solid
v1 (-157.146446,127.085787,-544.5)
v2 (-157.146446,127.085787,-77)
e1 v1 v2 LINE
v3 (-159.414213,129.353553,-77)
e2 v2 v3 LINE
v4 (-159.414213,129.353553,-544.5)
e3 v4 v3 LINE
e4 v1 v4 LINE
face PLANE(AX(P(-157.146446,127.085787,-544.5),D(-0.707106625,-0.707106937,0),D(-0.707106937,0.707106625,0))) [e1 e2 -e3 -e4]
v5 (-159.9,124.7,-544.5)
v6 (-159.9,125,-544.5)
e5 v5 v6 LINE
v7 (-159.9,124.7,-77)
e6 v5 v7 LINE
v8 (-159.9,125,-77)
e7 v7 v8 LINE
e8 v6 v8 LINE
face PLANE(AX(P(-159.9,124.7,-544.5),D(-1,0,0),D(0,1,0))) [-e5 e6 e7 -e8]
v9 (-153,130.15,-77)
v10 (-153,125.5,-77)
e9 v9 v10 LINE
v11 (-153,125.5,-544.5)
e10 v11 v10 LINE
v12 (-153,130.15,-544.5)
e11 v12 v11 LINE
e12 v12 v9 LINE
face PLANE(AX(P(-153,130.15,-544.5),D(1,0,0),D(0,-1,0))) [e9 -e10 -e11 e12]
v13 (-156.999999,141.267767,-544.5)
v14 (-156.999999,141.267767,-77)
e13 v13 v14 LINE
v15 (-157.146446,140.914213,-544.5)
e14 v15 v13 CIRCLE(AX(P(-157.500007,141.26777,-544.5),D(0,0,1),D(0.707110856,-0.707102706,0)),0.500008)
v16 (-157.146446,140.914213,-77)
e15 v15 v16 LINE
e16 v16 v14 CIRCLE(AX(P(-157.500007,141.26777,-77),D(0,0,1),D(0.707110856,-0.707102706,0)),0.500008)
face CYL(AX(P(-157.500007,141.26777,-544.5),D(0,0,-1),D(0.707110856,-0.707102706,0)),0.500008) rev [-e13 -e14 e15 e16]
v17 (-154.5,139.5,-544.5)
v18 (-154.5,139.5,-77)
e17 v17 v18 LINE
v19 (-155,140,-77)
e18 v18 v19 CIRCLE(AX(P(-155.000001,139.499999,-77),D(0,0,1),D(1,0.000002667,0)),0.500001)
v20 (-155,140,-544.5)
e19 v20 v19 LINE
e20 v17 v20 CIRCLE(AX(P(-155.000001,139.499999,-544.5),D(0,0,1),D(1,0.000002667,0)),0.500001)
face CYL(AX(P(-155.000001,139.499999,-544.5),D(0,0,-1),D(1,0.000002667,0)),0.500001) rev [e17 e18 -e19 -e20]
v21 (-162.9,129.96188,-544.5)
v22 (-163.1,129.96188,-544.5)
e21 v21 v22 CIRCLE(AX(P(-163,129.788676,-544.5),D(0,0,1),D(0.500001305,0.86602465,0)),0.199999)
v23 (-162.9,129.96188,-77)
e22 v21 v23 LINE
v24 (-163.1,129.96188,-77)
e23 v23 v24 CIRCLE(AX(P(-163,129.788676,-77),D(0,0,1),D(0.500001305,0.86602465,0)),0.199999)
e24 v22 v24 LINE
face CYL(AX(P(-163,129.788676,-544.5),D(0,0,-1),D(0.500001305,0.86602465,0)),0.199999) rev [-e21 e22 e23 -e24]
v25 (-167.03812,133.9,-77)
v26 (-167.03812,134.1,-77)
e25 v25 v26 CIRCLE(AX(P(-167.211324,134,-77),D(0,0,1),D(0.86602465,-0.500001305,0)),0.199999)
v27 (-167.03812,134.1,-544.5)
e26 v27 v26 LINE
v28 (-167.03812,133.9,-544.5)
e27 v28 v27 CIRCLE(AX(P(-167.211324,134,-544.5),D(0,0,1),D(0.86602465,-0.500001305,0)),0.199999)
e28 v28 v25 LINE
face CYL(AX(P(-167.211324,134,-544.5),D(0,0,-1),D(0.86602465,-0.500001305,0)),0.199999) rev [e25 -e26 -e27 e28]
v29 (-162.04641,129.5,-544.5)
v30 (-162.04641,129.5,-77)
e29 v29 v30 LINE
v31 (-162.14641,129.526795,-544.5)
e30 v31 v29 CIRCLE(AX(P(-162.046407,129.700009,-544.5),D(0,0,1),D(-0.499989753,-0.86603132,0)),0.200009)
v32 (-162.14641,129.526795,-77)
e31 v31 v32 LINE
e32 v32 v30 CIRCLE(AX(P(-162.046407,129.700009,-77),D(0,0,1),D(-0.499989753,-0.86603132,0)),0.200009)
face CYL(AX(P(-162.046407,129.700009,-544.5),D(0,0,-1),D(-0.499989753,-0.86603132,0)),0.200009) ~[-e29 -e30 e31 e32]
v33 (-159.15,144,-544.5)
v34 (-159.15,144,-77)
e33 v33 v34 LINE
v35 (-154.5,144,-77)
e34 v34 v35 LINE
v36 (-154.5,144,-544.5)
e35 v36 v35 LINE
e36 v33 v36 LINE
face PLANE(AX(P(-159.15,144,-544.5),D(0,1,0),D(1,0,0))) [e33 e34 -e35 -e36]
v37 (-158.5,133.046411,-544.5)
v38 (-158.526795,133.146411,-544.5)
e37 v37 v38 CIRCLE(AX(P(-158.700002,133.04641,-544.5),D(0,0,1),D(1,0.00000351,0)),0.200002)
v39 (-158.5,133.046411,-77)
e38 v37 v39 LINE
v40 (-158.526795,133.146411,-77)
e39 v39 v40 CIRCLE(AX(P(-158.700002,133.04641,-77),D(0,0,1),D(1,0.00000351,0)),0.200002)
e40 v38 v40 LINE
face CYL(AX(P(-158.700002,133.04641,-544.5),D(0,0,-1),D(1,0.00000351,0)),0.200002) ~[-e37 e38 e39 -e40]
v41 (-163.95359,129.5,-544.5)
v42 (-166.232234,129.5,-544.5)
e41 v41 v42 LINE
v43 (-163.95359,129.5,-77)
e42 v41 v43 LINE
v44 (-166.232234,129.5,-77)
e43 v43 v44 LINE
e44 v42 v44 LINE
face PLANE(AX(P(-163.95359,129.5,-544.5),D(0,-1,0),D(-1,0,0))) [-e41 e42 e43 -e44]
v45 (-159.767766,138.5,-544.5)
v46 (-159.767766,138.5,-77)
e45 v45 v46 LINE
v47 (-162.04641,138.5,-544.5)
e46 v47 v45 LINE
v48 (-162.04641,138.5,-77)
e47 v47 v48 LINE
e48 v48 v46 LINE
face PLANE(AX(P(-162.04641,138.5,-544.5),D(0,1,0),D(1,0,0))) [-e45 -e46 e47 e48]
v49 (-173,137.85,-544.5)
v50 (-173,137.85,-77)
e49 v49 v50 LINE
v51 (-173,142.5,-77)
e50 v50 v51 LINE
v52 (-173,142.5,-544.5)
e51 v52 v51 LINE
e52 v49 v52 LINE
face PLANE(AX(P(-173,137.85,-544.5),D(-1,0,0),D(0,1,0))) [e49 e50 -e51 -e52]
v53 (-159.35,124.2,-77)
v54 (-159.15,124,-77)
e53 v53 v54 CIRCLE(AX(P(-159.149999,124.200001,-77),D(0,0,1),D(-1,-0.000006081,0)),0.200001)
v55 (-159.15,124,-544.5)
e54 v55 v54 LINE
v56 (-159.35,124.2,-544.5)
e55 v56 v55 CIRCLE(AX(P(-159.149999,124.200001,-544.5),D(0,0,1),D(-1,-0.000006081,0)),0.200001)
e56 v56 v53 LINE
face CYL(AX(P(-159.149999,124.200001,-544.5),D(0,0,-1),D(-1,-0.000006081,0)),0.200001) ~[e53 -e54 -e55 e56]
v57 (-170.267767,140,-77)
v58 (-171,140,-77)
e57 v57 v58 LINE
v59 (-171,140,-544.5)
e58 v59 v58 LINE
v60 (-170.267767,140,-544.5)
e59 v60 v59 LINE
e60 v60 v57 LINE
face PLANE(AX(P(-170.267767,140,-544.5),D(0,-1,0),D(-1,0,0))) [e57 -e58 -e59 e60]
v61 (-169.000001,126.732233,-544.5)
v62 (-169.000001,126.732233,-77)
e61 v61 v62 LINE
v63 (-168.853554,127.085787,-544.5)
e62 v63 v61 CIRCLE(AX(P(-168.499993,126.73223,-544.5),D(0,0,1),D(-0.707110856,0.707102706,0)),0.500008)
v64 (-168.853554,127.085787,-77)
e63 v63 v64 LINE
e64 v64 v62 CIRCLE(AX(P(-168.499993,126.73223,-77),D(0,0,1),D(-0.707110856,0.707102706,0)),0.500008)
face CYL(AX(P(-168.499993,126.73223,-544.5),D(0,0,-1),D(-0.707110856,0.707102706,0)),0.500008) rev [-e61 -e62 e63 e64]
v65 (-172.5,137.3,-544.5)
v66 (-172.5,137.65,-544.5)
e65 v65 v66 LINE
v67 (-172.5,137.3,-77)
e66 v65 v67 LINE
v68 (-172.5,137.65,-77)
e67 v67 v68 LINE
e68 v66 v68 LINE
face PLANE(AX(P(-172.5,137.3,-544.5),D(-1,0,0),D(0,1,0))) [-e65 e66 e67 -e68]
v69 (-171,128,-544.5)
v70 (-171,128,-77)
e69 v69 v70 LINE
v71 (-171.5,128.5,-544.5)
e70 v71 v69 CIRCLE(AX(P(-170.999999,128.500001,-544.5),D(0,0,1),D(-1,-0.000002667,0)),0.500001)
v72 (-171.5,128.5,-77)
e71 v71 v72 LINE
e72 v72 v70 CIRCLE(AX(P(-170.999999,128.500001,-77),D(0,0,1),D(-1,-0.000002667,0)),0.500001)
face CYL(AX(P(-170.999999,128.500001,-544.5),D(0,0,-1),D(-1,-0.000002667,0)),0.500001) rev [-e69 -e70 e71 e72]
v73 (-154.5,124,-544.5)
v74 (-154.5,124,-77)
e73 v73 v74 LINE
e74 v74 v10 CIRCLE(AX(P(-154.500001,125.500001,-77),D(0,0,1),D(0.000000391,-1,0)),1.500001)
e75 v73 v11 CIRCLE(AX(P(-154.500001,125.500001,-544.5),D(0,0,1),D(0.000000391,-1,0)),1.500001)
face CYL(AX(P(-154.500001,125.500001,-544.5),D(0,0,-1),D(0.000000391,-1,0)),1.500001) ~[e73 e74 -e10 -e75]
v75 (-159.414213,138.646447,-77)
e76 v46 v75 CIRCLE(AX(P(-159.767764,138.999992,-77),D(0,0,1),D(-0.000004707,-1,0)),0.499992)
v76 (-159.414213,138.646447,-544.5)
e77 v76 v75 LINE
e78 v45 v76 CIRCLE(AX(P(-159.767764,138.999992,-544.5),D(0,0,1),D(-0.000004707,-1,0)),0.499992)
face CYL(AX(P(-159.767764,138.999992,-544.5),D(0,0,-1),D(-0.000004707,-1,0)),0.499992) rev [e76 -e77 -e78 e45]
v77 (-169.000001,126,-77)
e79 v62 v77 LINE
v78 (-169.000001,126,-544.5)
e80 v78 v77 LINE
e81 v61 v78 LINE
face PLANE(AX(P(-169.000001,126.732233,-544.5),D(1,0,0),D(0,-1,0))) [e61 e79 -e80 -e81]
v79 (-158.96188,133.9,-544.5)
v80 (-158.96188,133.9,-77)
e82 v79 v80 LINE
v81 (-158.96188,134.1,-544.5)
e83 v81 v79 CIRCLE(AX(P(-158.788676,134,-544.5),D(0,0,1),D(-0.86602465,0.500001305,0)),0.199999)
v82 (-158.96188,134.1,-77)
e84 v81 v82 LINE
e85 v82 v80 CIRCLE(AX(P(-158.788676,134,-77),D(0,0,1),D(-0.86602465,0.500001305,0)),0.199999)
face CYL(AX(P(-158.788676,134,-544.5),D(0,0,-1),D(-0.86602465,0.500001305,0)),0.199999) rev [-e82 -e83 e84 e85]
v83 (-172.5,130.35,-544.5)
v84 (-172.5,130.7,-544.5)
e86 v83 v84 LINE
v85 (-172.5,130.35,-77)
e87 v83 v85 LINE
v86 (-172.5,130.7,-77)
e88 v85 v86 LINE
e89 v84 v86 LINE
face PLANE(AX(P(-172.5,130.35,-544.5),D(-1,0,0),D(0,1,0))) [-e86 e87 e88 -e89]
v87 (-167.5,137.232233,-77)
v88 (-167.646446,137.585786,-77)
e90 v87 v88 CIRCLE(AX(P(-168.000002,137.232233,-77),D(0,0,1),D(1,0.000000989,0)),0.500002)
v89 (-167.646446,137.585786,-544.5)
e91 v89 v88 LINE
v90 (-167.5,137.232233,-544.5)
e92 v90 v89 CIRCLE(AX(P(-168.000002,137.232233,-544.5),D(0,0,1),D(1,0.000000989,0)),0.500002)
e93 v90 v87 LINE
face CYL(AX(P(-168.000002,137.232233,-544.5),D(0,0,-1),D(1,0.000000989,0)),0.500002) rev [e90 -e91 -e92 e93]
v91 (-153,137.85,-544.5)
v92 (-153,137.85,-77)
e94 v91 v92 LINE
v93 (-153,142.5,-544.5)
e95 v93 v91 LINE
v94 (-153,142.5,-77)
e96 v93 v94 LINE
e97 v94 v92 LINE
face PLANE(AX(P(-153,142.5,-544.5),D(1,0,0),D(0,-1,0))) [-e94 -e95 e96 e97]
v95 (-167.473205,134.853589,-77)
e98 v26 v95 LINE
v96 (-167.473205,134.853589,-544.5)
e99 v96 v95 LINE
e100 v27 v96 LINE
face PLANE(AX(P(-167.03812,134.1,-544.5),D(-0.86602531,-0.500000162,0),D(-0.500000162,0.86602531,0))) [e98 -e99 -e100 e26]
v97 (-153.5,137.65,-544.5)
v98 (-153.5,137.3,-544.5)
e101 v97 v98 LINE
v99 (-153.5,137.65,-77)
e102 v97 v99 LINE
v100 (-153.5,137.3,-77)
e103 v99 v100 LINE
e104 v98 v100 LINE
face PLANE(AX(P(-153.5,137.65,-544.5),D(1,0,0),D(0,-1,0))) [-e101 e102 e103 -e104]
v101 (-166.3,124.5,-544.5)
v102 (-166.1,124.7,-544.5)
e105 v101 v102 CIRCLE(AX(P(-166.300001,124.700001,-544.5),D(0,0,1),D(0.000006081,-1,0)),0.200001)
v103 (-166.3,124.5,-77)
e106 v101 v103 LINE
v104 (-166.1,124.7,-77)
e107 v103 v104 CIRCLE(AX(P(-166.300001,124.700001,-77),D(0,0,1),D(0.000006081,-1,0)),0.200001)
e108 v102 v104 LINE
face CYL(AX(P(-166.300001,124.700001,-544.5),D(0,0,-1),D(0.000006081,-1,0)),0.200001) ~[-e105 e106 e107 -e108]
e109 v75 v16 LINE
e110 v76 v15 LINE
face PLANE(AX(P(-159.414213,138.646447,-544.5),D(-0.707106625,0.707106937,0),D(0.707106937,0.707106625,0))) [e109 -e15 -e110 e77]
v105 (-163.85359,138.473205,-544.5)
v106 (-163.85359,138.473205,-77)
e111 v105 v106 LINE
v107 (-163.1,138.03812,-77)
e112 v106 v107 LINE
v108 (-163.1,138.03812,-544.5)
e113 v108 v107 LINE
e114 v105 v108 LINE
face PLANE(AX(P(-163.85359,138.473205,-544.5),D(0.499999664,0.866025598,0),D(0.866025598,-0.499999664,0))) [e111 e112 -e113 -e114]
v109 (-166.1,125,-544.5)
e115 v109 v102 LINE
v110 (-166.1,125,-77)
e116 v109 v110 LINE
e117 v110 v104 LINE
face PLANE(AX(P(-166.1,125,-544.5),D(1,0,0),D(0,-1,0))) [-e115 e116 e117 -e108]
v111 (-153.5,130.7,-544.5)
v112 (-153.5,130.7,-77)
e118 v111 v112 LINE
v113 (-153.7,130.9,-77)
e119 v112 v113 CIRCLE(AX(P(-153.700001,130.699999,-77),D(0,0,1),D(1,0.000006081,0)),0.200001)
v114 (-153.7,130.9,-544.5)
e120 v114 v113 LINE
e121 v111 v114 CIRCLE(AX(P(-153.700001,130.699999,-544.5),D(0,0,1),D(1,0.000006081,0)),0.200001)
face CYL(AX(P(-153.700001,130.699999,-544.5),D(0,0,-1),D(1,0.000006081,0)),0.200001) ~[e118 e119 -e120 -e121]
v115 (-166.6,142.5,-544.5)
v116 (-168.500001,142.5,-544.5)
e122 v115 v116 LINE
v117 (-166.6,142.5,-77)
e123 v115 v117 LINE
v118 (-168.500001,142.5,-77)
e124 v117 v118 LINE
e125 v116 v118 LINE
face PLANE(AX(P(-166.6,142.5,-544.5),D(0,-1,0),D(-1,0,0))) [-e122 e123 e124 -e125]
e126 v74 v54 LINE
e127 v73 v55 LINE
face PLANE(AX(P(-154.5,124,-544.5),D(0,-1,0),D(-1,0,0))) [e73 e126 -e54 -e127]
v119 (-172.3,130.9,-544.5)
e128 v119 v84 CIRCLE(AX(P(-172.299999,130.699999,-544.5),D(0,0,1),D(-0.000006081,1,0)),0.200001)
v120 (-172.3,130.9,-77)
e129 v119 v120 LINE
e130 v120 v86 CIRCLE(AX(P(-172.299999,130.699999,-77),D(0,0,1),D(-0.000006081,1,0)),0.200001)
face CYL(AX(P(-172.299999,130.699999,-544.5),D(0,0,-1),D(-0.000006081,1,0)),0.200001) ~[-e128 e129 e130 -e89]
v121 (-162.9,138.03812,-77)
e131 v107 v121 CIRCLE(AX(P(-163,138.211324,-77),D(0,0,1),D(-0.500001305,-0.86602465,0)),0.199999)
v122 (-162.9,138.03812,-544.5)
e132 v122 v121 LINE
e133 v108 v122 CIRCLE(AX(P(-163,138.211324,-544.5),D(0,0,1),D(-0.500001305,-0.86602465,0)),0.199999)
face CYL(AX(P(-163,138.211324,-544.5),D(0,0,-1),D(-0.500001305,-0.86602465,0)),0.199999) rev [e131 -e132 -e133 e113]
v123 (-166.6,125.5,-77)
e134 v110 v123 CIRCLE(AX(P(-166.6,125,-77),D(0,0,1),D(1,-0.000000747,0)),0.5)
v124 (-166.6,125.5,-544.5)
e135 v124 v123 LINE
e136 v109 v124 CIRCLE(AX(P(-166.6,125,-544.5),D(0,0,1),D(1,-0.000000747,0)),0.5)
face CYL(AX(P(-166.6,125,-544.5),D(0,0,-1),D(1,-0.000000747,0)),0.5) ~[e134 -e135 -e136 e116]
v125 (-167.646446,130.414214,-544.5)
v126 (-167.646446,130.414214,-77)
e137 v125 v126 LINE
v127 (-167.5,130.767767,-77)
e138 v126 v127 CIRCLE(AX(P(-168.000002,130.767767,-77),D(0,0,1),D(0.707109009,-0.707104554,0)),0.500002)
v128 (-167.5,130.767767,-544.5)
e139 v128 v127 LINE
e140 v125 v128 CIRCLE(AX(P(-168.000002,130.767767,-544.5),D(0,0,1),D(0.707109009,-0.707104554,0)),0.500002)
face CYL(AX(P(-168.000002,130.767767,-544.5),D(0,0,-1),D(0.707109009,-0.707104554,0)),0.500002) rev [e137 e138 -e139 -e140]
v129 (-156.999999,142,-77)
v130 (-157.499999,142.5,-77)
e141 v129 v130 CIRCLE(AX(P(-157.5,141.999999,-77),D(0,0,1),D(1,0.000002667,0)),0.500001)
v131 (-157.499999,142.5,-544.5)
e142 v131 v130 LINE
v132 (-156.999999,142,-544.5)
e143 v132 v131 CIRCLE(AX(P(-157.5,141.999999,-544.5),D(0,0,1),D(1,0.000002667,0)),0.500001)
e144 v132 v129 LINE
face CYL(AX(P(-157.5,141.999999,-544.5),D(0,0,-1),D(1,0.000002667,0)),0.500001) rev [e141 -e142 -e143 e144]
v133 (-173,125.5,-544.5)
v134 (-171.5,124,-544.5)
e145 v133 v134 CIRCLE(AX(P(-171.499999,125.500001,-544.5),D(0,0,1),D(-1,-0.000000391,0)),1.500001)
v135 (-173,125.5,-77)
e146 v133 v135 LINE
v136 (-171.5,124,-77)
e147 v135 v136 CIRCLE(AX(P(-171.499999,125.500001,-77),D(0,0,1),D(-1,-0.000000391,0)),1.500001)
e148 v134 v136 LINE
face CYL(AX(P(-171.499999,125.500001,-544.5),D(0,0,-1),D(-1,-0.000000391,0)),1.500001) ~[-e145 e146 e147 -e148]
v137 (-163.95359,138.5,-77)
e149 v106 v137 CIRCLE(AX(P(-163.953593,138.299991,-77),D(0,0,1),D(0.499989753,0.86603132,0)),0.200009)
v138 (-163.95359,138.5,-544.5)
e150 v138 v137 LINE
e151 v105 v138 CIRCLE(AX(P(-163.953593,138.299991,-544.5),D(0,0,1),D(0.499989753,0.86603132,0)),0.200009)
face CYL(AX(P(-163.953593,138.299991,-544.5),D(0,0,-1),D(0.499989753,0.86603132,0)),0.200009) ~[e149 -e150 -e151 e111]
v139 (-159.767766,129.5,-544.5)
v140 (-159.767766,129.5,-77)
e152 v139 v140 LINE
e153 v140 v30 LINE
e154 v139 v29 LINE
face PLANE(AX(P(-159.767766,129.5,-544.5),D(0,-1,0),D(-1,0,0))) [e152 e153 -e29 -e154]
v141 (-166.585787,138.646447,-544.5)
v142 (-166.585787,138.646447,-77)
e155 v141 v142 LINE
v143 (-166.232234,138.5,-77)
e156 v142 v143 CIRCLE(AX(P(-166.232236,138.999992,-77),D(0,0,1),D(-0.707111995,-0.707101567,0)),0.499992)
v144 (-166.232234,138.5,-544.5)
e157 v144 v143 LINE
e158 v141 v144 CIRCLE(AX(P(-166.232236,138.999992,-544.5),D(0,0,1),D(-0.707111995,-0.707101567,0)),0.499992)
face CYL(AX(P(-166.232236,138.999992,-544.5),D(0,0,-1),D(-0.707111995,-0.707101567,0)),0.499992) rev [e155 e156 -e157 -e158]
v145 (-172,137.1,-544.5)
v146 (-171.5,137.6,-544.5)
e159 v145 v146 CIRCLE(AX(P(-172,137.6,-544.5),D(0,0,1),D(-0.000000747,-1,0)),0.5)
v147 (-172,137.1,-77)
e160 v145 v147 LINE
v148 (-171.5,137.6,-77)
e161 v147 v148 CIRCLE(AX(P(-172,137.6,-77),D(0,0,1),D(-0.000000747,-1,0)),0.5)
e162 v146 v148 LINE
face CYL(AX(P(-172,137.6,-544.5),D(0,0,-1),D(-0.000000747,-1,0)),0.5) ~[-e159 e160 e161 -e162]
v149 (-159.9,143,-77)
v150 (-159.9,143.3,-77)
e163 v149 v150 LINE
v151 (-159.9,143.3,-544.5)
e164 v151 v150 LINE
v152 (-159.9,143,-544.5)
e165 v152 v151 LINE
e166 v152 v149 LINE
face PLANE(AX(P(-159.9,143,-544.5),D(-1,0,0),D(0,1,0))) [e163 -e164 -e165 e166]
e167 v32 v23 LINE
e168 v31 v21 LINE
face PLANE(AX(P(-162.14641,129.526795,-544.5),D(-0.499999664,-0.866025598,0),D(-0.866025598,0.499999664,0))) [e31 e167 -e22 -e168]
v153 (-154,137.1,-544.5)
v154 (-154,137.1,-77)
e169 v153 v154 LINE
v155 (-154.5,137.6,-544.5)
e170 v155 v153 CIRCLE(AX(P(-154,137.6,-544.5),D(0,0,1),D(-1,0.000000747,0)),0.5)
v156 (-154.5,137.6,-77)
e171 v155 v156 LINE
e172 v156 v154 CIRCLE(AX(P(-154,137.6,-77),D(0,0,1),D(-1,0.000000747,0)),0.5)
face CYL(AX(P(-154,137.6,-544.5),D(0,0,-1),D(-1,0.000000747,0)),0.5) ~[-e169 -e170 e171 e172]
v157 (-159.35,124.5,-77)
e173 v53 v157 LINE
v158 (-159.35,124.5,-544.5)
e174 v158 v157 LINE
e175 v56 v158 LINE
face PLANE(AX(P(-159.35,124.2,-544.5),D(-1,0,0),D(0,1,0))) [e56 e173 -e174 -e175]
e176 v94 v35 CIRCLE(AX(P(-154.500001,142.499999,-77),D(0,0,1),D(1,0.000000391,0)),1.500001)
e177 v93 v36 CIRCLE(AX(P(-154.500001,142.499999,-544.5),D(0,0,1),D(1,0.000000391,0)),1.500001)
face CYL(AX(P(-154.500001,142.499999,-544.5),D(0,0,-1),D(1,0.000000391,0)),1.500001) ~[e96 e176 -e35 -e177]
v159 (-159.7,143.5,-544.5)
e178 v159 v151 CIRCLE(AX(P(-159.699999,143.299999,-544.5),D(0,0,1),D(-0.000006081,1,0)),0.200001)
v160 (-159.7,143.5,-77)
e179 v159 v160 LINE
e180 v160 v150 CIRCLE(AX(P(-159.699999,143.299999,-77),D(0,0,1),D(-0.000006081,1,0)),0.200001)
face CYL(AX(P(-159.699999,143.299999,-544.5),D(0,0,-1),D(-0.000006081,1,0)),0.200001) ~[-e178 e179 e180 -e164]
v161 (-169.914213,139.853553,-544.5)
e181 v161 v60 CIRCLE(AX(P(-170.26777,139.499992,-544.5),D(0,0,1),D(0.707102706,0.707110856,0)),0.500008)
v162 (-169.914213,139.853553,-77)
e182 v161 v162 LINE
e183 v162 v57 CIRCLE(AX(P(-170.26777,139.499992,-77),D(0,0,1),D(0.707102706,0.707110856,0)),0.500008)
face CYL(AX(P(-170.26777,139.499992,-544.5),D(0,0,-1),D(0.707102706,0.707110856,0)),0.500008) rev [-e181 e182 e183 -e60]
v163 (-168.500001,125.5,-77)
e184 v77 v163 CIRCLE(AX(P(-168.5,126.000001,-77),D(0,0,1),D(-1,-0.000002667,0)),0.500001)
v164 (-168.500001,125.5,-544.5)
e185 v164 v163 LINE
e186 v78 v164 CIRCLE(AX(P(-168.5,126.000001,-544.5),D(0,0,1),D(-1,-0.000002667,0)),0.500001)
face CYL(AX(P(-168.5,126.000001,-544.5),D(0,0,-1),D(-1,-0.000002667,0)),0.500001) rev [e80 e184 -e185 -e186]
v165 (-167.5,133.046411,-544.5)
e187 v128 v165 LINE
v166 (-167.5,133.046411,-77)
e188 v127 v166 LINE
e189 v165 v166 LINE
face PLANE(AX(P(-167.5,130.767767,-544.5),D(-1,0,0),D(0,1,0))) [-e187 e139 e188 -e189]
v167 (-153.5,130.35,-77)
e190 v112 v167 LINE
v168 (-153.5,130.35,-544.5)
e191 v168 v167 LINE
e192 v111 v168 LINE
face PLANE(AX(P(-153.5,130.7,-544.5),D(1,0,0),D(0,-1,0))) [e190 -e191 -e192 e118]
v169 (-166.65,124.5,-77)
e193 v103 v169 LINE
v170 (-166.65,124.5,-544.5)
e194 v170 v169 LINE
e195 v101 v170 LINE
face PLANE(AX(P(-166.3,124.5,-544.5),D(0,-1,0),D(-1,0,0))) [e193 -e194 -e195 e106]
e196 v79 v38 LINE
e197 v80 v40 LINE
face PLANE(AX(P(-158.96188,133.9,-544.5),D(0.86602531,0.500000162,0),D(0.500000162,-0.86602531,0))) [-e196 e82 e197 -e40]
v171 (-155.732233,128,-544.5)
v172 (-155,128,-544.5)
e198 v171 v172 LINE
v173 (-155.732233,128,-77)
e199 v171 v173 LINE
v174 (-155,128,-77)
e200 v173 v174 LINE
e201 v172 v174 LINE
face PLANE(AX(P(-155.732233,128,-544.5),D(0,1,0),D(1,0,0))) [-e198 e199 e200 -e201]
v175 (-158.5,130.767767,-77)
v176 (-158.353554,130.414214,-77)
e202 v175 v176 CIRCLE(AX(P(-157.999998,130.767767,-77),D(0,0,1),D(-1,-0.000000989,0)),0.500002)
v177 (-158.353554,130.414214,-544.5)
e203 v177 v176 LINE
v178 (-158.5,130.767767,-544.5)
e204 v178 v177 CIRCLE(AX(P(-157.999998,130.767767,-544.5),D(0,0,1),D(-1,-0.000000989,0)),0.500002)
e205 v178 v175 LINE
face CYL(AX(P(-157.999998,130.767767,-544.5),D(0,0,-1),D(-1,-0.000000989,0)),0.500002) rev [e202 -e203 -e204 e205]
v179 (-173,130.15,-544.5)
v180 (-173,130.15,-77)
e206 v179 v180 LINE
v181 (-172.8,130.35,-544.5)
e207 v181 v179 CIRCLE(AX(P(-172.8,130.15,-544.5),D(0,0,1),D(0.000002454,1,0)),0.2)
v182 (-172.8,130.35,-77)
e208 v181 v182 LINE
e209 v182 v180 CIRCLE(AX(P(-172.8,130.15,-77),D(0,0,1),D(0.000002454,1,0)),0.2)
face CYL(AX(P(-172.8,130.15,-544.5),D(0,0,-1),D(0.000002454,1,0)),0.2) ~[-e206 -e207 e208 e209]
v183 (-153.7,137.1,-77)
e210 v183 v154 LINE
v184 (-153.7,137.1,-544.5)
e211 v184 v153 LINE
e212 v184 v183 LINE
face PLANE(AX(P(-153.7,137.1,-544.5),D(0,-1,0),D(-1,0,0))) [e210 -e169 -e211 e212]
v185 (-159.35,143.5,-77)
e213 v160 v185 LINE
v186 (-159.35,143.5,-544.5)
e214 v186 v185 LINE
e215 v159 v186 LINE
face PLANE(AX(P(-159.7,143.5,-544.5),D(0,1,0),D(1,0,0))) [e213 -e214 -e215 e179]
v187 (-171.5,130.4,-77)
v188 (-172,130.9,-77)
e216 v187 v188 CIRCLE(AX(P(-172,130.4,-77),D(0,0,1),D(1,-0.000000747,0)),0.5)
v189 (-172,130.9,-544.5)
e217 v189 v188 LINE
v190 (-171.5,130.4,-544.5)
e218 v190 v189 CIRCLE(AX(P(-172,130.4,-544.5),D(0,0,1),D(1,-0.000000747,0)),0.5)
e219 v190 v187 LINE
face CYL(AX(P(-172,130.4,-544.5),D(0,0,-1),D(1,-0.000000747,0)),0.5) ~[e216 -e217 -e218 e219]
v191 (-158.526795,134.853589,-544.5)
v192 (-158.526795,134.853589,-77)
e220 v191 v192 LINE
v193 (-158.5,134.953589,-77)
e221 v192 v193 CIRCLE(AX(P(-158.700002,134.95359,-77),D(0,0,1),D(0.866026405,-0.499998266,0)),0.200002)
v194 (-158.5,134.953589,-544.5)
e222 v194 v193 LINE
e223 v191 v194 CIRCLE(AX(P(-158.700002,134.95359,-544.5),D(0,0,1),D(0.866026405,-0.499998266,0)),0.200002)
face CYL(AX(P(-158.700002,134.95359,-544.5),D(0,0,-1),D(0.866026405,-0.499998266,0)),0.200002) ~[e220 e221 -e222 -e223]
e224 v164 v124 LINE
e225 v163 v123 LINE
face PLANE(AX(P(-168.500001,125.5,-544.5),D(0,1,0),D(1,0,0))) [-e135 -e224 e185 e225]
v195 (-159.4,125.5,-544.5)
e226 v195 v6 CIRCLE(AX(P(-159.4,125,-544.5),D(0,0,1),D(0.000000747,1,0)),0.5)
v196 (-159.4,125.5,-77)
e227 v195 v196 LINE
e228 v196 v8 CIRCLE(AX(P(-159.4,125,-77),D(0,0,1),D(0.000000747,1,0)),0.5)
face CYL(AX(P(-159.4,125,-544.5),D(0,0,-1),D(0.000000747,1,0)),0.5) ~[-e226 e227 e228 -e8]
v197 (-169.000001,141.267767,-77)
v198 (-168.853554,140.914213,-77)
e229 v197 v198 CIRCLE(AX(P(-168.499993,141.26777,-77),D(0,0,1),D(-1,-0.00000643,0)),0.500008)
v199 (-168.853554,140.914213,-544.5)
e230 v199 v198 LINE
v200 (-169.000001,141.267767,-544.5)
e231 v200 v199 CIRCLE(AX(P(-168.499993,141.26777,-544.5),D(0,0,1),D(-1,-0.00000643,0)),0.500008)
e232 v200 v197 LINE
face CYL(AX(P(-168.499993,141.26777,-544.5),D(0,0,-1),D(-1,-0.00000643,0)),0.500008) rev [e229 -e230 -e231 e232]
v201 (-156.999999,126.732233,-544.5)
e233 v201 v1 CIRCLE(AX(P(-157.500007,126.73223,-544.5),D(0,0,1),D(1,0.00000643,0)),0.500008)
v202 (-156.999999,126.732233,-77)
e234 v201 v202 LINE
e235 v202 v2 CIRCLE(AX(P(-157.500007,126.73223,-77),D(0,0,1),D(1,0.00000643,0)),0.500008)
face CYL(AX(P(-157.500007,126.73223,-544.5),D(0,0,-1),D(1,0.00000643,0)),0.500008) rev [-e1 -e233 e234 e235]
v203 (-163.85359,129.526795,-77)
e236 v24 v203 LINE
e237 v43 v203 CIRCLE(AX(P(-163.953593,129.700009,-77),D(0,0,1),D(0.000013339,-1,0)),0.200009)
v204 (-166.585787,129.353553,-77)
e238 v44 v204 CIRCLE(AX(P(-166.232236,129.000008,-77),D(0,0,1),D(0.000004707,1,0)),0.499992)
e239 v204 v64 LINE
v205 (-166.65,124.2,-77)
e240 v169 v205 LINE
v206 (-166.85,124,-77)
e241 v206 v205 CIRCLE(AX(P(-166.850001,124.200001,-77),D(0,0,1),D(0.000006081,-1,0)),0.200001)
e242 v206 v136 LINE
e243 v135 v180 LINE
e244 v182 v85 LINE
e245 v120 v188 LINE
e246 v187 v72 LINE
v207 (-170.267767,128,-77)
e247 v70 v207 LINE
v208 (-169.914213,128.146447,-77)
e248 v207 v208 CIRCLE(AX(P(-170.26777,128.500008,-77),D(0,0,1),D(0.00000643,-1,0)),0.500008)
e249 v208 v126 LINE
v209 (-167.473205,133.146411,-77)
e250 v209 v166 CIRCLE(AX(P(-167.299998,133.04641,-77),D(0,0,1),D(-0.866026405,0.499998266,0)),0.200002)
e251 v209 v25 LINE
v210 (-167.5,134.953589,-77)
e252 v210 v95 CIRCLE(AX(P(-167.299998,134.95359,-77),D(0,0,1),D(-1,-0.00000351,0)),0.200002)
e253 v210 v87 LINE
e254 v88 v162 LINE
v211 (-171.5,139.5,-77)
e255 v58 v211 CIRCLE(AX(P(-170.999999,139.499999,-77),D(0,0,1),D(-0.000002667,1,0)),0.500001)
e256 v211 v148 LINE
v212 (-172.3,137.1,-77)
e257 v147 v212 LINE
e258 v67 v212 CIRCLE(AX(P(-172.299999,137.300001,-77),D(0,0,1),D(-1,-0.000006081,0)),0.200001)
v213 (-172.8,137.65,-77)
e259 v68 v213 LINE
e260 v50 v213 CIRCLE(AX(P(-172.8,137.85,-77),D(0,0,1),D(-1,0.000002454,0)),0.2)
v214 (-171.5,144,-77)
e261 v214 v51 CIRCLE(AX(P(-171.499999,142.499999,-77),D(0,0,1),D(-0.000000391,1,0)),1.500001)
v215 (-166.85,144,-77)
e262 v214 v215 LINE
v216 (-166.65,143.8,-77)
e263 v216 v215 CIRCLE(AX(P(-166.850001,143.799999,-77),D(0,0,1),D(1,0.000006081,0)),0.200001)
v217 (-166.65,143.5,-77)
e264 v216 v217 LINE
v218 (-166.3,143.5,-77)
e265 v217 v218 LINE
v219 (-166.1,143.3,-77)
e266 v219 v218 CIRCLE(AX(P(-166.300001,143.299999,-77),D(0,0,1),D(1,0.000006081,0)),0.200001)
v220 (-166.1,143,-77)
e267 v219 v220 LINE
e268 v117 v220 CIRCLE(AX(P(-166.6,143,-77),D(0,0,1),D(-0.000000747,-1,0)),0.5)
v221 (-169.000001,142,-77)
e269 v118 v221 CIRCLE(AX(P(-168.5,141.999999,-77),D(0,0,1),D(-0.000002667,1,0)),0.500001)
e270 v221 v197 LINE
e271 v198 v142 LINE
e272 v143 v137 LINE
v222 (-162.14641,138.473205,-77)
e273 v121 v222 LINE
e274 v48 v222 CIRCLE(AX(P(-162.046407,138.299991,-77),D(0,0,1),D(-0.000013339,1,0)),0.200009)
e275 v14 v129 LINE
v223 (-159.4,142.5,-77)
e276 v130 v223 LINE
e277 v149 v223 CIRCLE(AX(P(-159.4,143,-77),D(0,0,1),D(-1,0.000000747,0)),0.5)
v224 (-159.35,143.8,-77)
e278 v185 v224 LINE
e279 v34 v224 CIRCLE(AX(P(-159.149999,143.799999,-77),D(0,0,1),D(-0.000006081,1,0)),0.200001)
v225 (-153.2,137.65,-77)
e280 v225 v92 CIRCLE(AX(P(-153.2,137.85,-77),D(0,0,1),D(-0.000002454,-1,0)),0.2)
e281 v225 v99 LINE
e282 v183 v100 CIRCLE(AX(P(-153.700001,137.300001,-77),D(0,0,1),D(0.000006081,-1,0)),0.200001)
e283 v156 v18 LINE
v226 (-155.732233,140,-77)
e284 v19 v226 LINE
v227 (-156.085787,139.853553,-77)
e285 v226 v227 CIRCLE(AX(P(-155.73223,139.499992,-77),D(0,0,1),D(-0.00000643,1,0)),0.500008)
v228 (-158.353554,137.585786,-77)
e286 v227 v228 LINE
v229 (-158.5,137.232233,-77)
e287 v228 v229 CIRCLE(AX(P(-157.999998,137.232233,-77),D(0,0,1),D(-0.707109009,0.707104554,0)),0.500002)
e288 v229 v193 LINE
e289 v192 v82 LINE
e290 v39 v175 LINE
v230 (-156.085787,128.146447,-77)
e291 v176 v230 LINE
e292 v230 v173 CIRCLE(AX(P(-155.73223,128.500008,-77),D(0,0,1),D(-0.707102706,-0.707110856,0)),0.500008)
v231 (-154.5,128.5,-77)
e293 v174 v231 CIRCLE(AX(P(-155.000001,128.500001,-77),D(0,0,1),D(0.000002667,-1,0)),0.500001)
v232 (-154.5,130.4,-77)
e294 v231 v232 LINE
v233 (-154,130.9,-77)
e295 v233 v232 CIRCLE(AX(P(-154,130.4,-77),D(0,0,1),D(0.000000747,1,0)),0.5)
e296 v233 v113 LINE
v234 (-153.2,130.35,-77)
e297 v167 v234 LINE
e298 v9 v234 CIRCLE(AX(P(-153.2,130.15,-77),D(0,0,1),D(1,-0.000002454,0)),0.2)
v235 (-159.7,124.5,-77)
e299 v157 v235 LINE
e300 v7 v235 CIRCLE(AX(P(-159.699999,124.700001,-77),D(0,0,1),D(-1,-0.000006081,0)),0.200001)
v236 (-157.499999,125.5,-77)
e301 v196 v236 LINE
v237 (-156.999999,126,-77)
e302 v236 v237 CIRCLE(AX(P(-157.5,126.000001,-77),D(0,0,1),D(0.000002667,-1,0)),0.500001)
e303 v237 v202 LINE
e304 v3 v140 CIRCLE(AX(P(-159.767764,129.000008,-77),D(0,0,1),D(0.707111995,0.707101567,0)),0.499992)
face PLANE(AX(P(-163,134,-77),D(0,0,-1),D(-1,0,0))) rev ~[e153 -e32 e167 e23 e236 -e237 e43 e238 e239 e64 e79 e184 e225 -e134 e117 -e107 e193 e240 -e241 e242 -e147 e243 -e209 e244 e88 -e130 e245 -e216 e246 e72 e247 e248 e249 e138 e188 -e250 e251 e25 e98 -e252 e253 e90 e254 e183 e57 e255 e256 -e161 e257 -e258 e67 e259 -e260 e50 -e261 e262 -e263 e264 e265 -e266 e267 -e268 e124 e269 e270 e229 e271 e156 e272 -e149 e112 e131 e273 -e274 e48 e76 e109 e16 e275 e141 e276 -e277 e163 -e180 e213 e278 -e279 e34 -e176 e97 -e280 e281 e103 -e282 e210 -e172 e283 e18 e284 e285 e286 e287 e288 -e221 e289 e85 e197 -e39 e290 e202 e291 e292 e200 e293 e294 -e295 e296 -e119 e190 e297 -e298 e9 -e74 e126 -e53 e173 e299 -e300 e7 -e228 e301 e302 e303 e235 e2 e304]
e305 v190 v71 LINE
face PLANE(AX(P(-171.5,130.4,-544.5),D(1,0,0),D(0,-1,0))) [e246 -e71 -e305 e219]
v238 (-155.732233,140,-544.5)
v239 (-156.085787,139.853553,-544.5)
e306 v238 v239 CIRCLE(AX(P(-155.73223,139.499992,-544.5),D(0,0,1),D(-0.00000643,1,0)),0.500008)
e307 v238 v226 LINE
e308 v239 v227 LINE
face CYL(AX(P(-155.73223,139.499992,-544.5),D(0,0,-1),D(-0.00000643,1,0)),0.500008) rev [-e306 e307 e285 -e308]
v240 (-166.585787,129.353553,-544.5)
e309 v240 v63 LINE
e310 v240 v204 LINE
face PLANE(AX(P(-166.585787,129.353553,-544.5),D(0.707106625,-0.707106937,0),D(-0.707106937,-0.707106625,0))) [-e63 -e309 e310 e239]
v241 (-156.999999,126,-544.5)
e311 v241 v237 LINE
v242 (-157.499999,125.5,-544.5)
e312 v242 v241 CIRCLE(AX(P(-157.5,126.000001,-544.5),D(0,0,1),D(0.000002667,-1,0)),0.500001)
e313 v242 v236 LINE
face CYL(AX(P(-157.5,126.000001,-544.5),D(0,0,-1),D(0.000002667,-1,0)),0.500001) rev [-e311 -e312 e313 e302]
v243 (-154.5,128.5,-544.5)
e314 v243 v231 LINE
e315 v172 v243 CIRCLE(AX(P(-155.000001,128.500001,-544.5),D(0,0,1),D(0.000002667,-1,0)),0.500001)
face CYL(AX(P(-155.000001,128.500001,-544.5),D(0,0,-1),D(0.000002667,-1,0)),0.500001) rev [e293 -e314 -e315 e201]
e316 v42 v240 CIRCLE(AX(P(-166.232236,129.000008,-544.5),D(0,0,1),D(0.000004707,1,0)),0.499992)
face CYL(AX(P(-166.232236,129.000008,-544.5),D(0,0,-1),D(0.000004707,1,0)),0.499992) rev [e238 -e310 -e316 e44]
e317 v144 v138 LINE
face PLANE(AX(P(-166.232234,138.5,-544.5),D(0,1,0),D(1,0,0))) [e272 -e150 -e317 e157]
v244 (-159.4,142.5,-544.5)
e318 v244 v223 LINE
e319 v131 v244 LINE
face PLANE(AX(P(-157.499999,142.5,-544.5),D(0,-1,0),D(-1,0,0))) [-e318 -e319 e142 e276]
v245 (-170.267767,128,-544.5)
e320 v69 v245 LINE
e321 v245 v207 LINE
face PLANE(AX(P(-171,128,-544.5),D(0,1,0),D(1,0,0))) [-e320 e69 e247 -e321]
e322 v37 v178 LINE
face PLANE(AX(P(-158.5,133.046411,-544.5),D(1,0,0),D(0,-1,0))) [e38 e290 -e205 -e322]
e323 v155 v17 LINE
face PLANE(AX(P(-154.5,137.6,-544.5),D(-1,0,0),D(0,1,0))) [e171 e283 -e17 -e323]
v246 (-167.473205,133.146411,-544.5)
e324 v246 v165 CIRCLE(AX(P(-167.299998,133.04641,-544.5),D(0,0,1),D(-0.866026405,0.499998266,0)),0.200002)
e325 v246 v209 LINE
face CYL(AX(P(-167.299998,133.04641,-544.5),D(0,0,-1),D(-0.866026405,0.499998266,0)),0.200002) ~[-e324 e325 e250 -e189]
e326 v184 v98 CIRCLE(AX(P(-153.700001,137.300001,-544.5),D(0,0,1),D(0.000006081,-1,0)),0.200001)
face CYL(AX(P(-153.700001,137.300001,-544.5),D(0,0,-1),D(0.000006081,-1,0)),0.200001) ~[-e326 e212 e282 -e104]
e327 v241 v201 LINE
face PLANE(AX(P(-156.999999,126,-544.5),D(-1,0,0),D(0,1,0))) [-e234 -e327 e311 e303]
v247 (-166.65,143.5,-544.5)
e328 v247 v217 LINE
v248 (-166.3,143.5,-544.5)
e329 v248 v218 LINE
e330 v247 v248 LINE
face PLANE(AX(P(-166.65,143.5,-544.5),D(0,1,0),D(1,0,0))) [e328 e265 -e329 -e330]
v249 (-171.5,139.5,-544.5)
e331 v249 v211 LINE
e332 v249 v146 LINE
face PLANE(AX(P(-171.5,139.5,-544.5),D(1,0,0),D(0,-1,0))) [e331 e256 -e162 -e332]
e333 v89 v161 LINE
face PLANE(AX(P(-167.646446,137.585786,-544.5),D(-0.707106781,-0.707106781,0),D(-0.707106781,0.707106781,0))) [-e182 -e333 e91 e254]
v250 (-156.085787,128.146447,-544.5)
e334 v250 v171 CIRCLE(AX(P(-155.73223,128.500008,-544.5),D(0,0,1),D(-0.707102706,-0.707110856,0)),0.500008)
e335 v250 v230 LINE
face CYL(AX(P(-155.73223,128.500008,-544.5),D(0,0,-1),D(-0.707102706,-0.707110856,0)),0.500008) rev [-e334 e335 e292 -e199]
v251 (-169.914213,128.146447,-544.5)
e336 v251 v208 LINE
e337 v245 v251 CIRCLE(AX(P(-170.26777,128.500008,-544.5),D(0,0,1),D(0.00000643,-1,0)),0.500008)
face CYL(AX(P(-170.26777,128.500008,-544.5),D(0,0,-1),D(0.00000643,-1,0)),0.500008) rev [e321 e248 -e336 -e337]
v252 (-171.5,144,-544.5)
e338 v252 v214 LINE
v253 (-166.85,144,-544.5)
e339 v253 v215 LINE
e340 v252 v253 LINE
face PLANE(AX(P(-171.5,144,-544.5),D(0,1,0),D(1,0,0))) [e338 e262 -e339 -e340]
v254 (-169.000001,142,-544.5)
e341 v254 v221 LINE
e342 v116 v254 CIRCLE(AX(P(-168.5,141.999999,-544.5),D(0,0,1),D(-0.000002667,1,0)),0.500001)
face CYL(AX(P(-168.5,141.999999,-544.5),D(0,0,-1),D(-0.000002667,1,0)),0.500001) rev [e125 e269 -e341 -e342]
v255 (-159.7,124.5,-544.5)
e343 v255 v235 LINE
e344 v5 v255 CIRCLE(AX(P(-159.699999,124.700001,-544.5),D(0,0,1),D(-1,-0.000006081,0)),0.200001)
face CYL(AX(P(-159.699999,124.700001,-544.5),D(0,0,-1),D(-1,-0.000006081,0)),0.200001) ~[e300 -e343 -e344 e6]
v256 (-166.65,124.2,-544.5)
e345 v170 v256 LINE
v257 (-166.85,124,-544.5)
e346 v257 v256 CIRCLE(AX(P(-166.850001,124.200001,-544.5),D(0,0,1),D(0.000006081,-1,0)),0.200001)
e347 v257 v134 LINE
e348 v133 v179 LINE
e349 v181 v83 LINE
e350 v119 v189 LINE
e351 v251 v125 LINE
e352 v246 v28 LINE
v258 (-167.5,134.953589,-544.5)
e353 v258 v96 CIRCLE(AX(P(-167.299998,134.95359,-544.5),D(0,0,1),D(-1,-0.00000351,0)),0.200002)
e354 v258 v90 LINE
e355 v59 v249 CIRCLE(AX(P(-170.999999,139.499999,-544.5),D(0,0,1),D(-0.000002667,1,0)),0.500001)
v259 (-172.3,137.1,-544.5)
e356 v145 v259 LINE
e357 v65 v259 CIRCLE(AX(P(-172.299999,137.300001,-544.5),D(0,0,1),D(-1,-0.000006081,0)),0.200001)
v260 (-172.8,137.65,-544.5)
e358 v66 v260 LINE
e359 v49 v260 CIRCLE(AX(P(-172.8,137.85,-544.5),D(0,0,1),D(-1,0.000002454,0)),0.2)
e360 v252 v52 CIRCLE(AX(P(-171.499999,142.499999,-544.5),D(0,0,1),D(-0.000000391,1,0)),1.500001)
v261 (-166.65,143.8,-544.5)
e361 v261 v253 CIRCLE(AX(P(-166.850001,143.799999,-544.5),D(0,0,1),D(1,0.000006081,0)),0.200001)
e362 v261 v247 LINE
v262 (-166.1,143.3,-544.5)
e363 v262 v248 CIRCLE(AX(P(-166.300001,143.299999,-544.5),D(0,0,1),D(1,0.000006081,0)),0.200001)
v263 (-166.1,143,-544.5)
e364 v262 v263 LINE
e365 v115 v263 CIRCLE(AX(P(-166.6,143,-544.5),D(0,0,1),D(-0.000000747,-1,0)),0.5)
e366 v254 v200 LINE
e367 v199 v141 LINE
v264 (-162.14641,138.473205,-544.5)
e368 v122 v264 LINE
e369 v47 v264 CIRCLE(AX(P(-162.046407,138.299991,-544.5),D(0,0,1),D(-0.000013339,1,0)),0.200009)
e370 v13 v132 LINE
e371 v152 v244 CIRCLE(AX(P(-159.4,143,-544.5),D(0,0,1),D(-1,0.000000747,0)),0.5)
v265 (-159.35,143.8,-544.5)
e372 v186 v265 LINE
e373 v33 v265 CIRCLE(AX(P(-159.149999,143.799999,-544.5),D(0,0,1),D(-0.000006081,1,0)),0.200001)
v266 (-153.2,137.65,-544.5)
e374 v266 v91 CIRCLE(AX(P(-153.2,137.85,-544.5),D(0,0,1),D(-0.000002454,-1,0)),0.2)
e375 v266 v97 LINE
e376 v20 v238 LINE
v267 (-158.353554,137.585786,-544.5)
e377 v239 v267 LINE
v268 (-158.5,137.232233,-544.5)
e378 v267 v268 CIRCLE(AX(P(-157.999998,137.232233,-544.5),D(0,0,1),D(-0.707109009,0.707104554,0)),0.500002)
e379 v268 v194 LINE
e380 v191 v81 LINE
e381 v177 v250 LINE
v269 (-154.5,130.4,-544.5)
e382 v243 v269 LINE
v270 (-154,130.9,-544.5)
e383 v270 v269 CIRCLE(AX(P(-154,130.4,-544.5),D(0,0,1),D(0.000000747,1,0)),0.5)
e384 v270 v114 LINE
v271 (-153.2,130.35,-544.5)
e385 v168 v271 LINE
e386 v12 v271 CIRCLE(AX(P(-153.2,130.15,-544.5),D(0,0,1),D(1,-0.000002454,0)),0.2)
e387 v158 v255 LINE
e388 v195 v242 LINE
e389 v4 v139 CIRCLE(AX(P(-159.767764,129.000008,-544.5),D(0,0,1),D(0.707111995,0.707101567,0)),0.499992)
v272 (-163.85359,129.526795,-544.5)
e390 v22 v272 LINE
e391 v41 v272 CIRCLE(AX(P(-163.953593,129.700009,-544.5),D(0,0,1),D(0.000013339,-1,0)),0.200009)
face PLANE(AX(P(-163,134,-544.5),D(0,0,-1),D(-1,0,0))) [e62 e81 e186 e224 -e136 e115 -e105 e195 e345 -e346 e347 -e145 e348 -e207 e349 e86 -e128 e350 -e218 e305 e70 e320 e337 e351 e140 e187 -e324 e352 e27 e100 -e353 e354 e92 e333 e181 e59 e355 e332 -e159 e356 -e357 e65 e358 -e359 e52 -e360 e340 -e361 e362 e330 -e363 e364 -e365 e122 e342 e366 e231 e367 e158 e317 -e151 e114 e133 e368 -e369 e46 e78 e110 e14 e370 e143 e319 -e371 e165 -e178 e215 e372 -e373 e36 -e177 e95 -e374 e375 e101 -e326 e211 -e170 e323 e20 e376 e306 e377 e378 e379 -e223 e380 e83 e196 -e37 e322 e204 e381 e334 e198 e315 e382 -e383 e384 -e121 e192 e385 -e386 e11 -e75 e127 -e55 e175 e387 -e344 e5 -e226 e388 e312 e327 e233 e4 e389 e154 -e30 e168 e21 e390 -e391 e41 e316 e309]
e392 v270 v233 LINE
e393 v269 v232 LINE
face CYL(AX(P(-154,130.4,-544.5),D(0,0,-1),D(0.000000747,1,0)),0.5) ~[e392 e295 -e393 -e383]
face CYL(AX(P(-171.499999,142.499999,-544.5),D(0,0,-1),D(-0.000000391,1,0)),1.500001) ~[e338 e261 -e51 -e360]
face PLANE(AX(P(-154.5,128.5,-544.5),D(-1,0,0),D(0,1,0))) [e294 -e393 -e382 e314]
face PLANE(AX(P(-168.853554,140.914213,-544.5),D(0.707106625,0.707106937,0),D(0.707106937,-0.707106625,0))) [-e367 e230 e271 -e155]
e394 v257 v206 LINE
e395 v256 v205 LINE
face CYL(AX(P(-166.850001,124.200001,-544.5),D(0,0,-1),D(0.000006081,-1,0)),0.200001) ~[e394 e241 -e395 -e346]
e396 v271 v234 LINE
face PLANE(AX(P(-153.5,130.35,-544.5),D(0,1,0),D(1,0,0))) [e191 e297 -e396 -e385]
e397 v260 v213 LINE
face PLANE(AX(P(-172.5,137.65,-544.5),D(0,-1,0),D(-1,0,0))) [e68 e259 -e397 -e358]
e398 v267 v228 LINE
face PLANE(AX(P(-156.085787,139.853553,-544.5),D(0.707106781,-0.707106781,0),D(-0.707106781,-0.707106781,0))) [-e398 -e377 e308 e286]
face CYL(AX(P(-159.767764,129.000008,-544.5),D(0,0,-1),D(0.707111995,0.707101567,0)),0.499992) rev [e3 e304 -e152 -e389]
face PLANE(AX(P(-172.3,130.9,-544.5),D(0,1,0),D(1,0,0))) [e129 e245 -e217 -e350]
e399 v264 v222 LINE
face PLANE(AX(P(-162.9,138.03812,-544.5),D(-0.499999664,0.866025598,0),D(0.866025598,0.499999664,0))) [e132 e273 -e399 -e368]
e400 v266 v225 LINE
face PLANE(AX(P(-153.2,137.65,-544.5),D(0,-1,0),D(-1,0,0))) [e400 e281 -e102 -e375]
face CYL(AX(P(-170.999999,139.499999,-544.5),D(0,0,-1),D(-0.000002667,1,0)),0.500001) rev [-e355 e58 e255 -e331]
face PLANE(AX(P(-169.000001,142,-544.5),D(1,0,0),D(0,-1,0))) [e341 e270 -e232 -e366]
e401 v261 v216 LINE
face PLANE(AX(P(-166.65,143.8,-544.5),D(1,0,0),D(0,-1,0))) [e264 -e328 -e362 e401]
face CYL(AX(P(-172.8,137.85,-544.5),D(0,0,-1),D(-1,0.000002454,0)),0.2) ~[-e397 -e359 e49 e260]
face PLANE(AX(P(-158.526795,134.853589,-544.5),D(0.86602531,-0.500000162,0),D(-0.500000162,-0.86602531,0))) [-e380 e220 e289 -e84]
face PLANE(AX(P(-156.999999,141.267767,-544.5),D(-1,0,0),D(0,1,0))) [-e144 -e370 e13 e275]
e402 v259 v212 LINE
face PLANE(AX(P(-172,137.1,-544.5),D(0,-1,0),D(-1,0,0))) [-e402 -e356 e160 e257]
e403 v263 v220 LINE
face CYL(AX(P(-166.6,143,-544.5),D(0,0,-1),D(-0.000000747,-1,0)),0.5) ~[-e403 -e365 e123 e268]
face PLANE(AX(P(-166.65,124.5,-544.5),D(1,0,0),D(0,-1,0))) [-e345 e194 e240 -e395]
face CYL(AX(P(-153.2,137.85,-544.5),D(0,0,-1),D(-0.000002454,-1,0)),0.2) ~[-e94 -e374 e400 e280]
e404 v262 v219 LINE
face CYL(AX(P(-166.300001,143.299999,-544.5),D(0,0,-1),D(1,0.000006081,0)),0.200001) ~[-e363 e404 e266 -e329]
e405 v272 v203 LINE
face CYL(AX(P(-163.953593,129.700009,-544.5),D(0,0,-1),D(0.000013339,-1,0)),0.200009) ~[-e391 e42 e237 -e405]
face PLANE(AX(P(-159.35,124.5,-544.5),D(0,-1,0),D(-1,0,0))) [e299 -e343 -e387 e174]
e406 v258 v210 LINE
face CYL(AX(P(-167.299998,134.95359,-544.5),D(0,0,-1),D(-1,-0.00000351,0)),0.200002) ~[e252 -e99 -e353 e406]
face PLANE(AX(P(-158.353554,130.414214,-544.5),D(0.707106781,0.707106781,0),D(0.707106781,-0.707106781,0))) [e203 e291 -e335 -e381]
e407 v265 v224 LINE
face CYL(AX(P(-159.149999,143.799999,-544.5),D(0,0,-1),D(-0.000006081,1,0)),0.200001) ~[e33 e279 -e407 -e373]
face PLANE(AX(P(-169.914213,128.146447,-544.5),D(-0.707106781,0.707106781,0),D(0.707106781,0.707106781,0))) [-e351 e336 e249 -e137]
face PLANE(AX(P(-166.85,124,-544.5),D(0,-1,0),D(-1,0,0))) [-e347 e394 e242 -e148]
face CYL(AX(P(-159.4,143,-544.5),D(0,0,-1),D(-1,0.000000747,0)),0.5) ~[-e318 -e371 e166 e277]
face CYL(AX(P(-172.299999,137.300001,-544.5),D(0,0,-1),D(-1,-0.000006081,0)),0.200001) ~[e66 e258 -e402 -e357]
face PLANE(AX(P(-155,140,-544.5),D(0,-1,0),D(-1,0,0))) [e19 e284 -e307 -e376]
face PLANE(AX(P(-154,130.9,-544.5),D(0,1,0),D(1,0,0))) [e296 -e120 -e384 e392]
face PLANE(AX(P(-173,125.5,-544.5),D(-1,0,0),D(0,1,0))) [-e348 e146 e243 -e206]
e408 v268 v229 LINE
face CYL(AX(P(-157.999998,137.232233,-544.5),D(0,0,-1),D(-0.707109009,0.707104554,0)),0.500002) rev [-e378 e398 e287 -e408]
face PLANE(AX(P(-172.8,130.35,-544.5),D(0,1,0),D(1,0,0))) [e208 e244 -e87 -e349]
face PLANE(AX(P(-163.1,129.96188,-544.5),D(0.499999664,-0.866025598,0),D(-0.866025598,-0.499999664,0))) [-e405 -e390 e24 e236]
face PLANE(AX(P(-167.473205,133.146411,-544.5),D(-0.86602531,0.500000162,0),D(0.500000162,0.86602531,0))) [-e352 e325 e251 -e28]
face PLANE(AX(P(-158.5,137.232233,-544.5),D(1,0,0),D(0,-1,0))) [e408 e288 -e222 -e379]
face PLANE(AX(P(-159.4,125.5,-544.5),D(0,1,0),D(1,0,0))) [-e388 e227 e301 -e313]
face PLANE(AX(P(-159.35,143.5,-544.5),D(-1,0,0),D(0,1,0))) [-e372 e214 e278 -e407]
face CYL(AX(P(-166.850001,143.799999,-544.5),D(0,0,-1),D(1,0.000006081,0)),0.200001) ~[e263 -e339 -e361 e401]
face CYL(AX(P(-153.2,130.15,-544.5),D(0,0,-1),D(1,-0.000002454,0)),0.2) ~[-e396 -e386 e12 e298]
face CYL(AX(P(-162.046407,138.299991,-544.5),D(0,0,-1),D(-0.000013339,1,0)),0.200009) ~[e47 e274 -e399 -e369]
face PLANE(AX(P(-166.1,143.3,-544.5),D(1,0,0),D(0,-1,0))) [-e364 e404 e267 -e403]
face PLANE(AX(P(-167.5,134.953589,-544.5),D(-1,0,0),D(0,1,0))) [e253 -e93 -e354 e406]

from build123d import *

# Parameters (mm, degrees)
PAD_DEPTH    = 467.5
POCKET_DEPTH = 467.501


with BuildPart() as pad:
    # Sketch → Pad (new body)
    with BuildSketch(Plane(origin=(1.5, 0, 0), x_dir=(1, 0, 0), z_dir=(0, 0, 1))):
        with BuildLine():
            Line((0, 20), (4.65, 20))
            ThreePointArc((4.85, 19.8), (4.791421, 19.941421), (4.65, 20))
            Line((4.85, 19.8), (4.85, 19.5))
            Line((4.85, 19.5), (5.2, 19.5))
            ThreePointArc((5.4, 19.3), (5.341421, 19.441421), (5.2, 19.5))
            Line((5.4, 19.3), (5.4, 19))
            ThreePointArc((4.9, 18.5), (5.253553, 18.646446), (5.4, 19))
            Line((4.9, 18.5), (2.999999, 18.5))
            ThreePointArc((2.999999, 18.5), (2.646446, 18.353553), (2.499999, 18))
            Line((2.499999, 18), (2.499999, 17.267767))
            ThreePointArc((2.499999, 17.267767), (2.53806, 17.076425), (2.646446, 16.914213))
            Line((2.646446, 16.914213), (4.914213, 14.646447))
            ThreePointArc((4.914213, 14.646447), (5.076424, 14.53806), (5.267766, 14.5))
            Line((5.267766, 14.5), (7.54641, 14.5))
            ThreePointArc((7.64641, 14.473205), (7.598173, 14.493185), (7.54641, 14.5))
            Line((7.64641, 14.473205), (8.4, 14.03812))
            ThreePointArc((8.4, 14.03812), (8.5, 14.011325), (8.6, 14.03812))
            Line((8.6, 14.03812), (9.35359, 14.473205))
            ThreePointArc((9.45359, 14.5), (9.401827, 14.493185), (9.35359, 14.473205))
            Line((9.45359, 14.5), (11.732234, 14.5))
            ThreePointArc((11.732234, 14.5), (11.923576, 14.53806), (12.085787, 14.646447))
            Line((12.085787, 14.646447), (14.353554, 16.914213))
            ThreePointArc((14.353554, 16.914213), (14.46194, 17.076425), (14.500001, 17.267767))
            Line((14.500001, 17.267767), (14.500001, 18))
            ThreePointArc((14.500001, 18), (14.353554, 18.353553), (14.000001, 18.5))
            Line((14.000001, 18.5), (12.1, 18.5))
            ThreePointArc((11.6, 19), (11.746447, 18.646446), (12.1, 18.5))
            Line((11.6, 19), (11.6, 19.3))
            ThreePointArc((11.8, 19.5), (11.658579, 19.441421), (11.6, 19.3))
            Line((11.8, 19.5), (12.15, 19.5))
            Line((12.15, 19.5), (12.15, 19.8))
            ThreePointArc((12.35, 20), (12.208579, 19.941421), (12.15, 19.8))
            Line((12.35, 20), (17, 20))
            ThreePointArc((18.5, 18.5), (18.06066, 19.56066), (17, 20))
            Line((18.5, 18.5), (18.5, 13.85))
            ThreePointArc((18.3, 13.65), (18.441421, 13.708578), (18.5, 13.85))
            Line((18.3, 13.65), (18, 13.65))
            Line((18, 13.65), (18, 13.3))
            ThreePointArc((17.8, 13.1), (17.941421, 13.158579), (18, 13.3))
            Line((17.8, 13.1), (17.5, 13.1))
            ThreePointArc((17, 13.6), (17.146446, 13.246447), (17.5, 13.1))
            Line((17, 13.6), (17, 15.5))
            ThreePointArc((17, 15.5), (16.853553, 15.853553), (16.5, 16))
            Line((16.5, 16), (15.767767, 16))
            ThreePointArc((15.767767, 16), (15.576425, 15.961939), (15.414213, 15.853553))
            Line((15.414213, 15.853553), (13.146446, 13.585786))
            ThreePointArc((13.146446, 13.585786), (13.03806, 13.423574), (13, 13.232233))
            Line((13, 13.232233), (13, 10.953589))
            ThreePointArc((12.973205, 10.853589), (12.993185, 10.901825), (13, 10.953589))
            Line((12.973205, 10.853589), (12.53812, 10.1))
            ThreePointArc((12.53812, 10.1), (12.511325, 10), (12.53812, 9.9))
            Line((12.53812, 9.9), (12.973205, 9.146411))
            ThreePointArc((13, 9.046411), (12.993185, 9.098175), (12.973205, 9.146411))
            Line((13, 9.046411), (13, 6.767767))
            ThreePointArc((13, 6.767767), (13.03806, 6.576426), (13.146446, 6.414214))
            Line((13.146446, 6.414214), (15.414213, 4.146447))
            ThreePointArc((15.414213, 4.146447), (15.576425, 4.038061), (15.767767, 4))
            Line((15.767767, 4), (16.5, 4))
            ThreePointArc((16.5, 4), (16.853553, 4.146447), (17, 4.5))
            Line((17, 4.5), (17, 6.4))
            ThreePointArc((17.5, 6.9), (17.146446, 6.753553), (17, 6.4))
            Line((17.5, 6.9), (17.8, 6.9))
            ThreePointArc((18, 6.7), (17.941421, 6.841421), (17.8, 6.9))
            Line((18, 6.7), (18, 6.35))
            Line((18, 6.35), (18.3, 6.35))
            ThreePointArc((18.5, 6.15), (18.441421, 6.291422), (18.3, 6.35))
            Line((18.5, 6.15), (18.5, 1.5))
            ThreePointArc((17, 0), (18.06066, 0.43934), (18.5, 1.5))
            Line((17, 0), (12.35, 0))
            ThreePointArc((12.15, 0.2), (12.208579, 0.058579), (12.35, 0))
            Line((12.15, 0.2), (12.15, 0.5))
            Line((12.15, 0.5), (11.8, 0.5))
            ThreePointArc((11.6, 0.7), (11.658579, 0.558579), (11.8, 0.5))
            Line((11.6, 0.7), (11.6, 1))
            ThreePointArc((12.1, 1.5), (11.746447, 1.353554), (11.6, 1))
            Line((12.1, 1.5), (14.000001, 1.5))
            ThreePointArc((14.000001, 1.5), (14.353554, 1.646447), (14.500001, 2))
            Line((14.500001, 2), (14.500001, 2.732233))
            ThreePointArc((14.500001, 2.732233), (14.46194, 2.923575), (14.353554, 3.085787))
            Line((14.353554, 3.085787), (12.085787, 5.353553))
            ThreePointArc((12.085787, 5.353553), (11.923576, 5.46194), (11.732234, 5.5))
            Line((11.732234, 5.5), (9.45359, 5.5))
            ThreePointArc((9.35359, 5.526795), (9.401827, 5.506815), (9.45359, 5.5))
            Line((9.35359, 5.526795), (8.6, 5.96188))
            ThreePointArc((8.6, 5.96188), (8.5, 5.988675), (8.4, 5.96188))
            Line((8.4, 5.96188), (7.64641, 5.526795))
            ThreePointArc((7.54641, 5.5), (7.598173, 5.506815), (7.64641, 5.526795))
            Line((7.54641, 5.5), (5.267766, 5.5))
            ThreePointArc((5.267766, 5.5), (5.076424, 5.46194), (4.914213, 5.353553))
            Line((4.914213, 5.353553), (2.646446, 3.085787))
            ThreePointArc((2.646446, 3.085787), (2.53806, 2.923575), (2.499999, 2.732233))
            Line((2.499999, 2.732233), (2.499999, 2))
            ThreePointArc((2.499999, 2), (2.646446, 1.646447), (2.999999, 1.5))
            Line((2.999999, 1.5), (4.9, 1.5))
            ThreePointArc((5.4, 1), (5.253553, 1.353554), (4.9, 1.5))
            Line((5.4, 1), (5.4, 0.7))
            ThreePointArc((5.2, 0.5), (5.341421, 0.558579), (5.4, 0.7))
            Line((5.2, 0.5), (4.85, 0.5))
            Line((4.85, 0.5), (4.85, 0.2))
            ThreePointArc((4.65, 0), (4.791421, 0.058579), (4.85, 0.2))
            Line((4.65, 0), (0, 0))
            ThreePointArc((-1.5, 1.5), (-1.06066, 0.43934), (0, 0))
            Line((-1.5, 1.5), (-1.5, 6.15))
            ThreePointArc((-1.3, 6.35), (-1.441421, 6.291422), (-1.5, 6.15))
            Line((-1.3, 6.35), (-1, 6.35))
            Line((-1, 6.35), (-1, 6.7))
            ThreePointArc((-0.8, 6.9), (-0.941421, 6.841421), (-1, 6.7))
            Line((-0.8, 6.9), (-0.5, 6.9))
            ThreePointArc((0, 6.4), (-0.146446, 6.753553), (-0.5, 6.9))
            Line((0, 6.4), (0, 4.5))
            ThreePointArc((0, 4.5), (0.146447, 4.146447), (0.5, 4))
            Line((0.5, 4), (1.232233, 4))
            ThreePointArc((1.232233, 4), (1.423575, 4.038061), (1.585787, 4.146447))
            Line((1.585787, 4.146447), (3.853554, 6.414214))
            ThreePointArc((3.853554, 6.414214), (3.96194, 6.576426), (4, 6.767767))
            Line((4, 6.767767), (4, 9.046411))
            ThreePointArc((4.026795, 9.146411), (4.006815, 9.098175), (4, 9.046411))
            Line((4.026795, 9.146411), (4.46188, 9.9))
            ThreePointArc((4.46188, 9.9), (4.488675, 10), (4.46188, 10.1))
            Line((4.46188, 10.1), (4.026795, 10.853589))
            ThreePointArc((4, 10.953589), (4.006815, 10.901825), (4.026795, 10.853589))
            Line((4, 10.953589), (4, 13.232233))
            ThreePointArc((4, 13.232233), (3.96194, 13.423574), (3.853554, 13.585786))
            Line((3.853554, 13.585786), (1.585787, 15.853553))
            ThreePointArc((1.585787, 15.853553), (1.423575, 15.961939), (1.232233, 16))
            Line((1.232233, 16), (0.5, 16))
            ThreePointArc((0.5, 16), (0.146447, 15.853553), (0, 15.5))
            Line((0, 15.5), (0, 13.6))
            ThreePointArc((-0.5, 13.1), (-0.146446, 13.246447), (0, 13.6))
            Line((-0.5, 13.1), (-0.8, 13.1))
            ThreePointArc((-1, 13.3), (-0.941421, 13.158579), (-0.8, 13.1))
            Line((-1, 13.3), (-1, 13.65))
            Line((-1, 13.65), (-1.3, 13.65))
            ThreePointArc((-1.5, 13.85), (-1.441421, 13.708578), (-1.3, 13.65))
            Line((-1.5, 13.85), (-1.5, 18.5))
            ThreePointArc((0, 20), (-1.06066, 19.56066), (-1.5, 18.5))
        make_face()
    extrude(amount=PAD_DEPTH)


with BuildPart() as fusion030:
    # Pocket base: copy of Pad
    add(pad.part)

    # Sketch044 → Pocket (cut, through all)
    with BuildSketch(Plane(origin=(1.5, 0, 467.5), x_dir=(1, 0, 0), z_dir=(0, 0, 1))):
        with BuildLine():
            ThreePointArc((6.586105, 12.989641), (5.988263, 12.50841), (5.507825, 11.909931))
            Line((6.054705, 11.258185), (5.507825, 11.909931))
            ThreePointArc((6.054705, 11.258185), (5.75, 10), (6.054705, 8.741815))
            Line((5.507825, 8.090069), (6.054705, 8.741815))
            ThreePointArc((5.507825, 8.090069), (5.988263, 7.49159), (6.586105, 7.010359))
            Line((7.241815, 7.554705), (6.586105, 7.010359))
            ThreePointArc((7.241815, 7.554705), (8.5, 7.25), (9.758185, 7.554705))
            Line((10.413895, 7.010359), (9.758185, 7.554705))
            ThreePointArc((10.413895, 7.010359), (11.011737, 7.49159), (11.492175, 8.090069))
            Line((10.945295, 8.741815), (11.492175, 8.090069))
            ThreePointArc((10.945295, 8.741815), (11.25, 10), (10.945295, 11.258185))
            Line((11.492175, 11.909931), (10.945295, 11.258185))
            ThreePointArc((11.492175, 11.909931), (11.011737, 12.50841), (10.413895, 12.989641))
            Line((9.758185, 12.445295), (10.413895, 12.989641))
            ThreePointArc((9.758185, 12.445295), (8.5, 12.75), (7.241815, 12.445295))
            Line((6.586105, 12.989641), (7.241815, 12.445295))
        make_face()
    extrude(amount=-POCKET_DEPTH, mode=Mode.SUBTRACT)

    # Fusion030: union Pad
    add(pad.part)


with BuildPart() as fusion030_1:
    # Fusion030 placement: moved
    add(fusion030.part.moved(Location((-173, 124, -544.5))))


solid = fusion030_1.part
